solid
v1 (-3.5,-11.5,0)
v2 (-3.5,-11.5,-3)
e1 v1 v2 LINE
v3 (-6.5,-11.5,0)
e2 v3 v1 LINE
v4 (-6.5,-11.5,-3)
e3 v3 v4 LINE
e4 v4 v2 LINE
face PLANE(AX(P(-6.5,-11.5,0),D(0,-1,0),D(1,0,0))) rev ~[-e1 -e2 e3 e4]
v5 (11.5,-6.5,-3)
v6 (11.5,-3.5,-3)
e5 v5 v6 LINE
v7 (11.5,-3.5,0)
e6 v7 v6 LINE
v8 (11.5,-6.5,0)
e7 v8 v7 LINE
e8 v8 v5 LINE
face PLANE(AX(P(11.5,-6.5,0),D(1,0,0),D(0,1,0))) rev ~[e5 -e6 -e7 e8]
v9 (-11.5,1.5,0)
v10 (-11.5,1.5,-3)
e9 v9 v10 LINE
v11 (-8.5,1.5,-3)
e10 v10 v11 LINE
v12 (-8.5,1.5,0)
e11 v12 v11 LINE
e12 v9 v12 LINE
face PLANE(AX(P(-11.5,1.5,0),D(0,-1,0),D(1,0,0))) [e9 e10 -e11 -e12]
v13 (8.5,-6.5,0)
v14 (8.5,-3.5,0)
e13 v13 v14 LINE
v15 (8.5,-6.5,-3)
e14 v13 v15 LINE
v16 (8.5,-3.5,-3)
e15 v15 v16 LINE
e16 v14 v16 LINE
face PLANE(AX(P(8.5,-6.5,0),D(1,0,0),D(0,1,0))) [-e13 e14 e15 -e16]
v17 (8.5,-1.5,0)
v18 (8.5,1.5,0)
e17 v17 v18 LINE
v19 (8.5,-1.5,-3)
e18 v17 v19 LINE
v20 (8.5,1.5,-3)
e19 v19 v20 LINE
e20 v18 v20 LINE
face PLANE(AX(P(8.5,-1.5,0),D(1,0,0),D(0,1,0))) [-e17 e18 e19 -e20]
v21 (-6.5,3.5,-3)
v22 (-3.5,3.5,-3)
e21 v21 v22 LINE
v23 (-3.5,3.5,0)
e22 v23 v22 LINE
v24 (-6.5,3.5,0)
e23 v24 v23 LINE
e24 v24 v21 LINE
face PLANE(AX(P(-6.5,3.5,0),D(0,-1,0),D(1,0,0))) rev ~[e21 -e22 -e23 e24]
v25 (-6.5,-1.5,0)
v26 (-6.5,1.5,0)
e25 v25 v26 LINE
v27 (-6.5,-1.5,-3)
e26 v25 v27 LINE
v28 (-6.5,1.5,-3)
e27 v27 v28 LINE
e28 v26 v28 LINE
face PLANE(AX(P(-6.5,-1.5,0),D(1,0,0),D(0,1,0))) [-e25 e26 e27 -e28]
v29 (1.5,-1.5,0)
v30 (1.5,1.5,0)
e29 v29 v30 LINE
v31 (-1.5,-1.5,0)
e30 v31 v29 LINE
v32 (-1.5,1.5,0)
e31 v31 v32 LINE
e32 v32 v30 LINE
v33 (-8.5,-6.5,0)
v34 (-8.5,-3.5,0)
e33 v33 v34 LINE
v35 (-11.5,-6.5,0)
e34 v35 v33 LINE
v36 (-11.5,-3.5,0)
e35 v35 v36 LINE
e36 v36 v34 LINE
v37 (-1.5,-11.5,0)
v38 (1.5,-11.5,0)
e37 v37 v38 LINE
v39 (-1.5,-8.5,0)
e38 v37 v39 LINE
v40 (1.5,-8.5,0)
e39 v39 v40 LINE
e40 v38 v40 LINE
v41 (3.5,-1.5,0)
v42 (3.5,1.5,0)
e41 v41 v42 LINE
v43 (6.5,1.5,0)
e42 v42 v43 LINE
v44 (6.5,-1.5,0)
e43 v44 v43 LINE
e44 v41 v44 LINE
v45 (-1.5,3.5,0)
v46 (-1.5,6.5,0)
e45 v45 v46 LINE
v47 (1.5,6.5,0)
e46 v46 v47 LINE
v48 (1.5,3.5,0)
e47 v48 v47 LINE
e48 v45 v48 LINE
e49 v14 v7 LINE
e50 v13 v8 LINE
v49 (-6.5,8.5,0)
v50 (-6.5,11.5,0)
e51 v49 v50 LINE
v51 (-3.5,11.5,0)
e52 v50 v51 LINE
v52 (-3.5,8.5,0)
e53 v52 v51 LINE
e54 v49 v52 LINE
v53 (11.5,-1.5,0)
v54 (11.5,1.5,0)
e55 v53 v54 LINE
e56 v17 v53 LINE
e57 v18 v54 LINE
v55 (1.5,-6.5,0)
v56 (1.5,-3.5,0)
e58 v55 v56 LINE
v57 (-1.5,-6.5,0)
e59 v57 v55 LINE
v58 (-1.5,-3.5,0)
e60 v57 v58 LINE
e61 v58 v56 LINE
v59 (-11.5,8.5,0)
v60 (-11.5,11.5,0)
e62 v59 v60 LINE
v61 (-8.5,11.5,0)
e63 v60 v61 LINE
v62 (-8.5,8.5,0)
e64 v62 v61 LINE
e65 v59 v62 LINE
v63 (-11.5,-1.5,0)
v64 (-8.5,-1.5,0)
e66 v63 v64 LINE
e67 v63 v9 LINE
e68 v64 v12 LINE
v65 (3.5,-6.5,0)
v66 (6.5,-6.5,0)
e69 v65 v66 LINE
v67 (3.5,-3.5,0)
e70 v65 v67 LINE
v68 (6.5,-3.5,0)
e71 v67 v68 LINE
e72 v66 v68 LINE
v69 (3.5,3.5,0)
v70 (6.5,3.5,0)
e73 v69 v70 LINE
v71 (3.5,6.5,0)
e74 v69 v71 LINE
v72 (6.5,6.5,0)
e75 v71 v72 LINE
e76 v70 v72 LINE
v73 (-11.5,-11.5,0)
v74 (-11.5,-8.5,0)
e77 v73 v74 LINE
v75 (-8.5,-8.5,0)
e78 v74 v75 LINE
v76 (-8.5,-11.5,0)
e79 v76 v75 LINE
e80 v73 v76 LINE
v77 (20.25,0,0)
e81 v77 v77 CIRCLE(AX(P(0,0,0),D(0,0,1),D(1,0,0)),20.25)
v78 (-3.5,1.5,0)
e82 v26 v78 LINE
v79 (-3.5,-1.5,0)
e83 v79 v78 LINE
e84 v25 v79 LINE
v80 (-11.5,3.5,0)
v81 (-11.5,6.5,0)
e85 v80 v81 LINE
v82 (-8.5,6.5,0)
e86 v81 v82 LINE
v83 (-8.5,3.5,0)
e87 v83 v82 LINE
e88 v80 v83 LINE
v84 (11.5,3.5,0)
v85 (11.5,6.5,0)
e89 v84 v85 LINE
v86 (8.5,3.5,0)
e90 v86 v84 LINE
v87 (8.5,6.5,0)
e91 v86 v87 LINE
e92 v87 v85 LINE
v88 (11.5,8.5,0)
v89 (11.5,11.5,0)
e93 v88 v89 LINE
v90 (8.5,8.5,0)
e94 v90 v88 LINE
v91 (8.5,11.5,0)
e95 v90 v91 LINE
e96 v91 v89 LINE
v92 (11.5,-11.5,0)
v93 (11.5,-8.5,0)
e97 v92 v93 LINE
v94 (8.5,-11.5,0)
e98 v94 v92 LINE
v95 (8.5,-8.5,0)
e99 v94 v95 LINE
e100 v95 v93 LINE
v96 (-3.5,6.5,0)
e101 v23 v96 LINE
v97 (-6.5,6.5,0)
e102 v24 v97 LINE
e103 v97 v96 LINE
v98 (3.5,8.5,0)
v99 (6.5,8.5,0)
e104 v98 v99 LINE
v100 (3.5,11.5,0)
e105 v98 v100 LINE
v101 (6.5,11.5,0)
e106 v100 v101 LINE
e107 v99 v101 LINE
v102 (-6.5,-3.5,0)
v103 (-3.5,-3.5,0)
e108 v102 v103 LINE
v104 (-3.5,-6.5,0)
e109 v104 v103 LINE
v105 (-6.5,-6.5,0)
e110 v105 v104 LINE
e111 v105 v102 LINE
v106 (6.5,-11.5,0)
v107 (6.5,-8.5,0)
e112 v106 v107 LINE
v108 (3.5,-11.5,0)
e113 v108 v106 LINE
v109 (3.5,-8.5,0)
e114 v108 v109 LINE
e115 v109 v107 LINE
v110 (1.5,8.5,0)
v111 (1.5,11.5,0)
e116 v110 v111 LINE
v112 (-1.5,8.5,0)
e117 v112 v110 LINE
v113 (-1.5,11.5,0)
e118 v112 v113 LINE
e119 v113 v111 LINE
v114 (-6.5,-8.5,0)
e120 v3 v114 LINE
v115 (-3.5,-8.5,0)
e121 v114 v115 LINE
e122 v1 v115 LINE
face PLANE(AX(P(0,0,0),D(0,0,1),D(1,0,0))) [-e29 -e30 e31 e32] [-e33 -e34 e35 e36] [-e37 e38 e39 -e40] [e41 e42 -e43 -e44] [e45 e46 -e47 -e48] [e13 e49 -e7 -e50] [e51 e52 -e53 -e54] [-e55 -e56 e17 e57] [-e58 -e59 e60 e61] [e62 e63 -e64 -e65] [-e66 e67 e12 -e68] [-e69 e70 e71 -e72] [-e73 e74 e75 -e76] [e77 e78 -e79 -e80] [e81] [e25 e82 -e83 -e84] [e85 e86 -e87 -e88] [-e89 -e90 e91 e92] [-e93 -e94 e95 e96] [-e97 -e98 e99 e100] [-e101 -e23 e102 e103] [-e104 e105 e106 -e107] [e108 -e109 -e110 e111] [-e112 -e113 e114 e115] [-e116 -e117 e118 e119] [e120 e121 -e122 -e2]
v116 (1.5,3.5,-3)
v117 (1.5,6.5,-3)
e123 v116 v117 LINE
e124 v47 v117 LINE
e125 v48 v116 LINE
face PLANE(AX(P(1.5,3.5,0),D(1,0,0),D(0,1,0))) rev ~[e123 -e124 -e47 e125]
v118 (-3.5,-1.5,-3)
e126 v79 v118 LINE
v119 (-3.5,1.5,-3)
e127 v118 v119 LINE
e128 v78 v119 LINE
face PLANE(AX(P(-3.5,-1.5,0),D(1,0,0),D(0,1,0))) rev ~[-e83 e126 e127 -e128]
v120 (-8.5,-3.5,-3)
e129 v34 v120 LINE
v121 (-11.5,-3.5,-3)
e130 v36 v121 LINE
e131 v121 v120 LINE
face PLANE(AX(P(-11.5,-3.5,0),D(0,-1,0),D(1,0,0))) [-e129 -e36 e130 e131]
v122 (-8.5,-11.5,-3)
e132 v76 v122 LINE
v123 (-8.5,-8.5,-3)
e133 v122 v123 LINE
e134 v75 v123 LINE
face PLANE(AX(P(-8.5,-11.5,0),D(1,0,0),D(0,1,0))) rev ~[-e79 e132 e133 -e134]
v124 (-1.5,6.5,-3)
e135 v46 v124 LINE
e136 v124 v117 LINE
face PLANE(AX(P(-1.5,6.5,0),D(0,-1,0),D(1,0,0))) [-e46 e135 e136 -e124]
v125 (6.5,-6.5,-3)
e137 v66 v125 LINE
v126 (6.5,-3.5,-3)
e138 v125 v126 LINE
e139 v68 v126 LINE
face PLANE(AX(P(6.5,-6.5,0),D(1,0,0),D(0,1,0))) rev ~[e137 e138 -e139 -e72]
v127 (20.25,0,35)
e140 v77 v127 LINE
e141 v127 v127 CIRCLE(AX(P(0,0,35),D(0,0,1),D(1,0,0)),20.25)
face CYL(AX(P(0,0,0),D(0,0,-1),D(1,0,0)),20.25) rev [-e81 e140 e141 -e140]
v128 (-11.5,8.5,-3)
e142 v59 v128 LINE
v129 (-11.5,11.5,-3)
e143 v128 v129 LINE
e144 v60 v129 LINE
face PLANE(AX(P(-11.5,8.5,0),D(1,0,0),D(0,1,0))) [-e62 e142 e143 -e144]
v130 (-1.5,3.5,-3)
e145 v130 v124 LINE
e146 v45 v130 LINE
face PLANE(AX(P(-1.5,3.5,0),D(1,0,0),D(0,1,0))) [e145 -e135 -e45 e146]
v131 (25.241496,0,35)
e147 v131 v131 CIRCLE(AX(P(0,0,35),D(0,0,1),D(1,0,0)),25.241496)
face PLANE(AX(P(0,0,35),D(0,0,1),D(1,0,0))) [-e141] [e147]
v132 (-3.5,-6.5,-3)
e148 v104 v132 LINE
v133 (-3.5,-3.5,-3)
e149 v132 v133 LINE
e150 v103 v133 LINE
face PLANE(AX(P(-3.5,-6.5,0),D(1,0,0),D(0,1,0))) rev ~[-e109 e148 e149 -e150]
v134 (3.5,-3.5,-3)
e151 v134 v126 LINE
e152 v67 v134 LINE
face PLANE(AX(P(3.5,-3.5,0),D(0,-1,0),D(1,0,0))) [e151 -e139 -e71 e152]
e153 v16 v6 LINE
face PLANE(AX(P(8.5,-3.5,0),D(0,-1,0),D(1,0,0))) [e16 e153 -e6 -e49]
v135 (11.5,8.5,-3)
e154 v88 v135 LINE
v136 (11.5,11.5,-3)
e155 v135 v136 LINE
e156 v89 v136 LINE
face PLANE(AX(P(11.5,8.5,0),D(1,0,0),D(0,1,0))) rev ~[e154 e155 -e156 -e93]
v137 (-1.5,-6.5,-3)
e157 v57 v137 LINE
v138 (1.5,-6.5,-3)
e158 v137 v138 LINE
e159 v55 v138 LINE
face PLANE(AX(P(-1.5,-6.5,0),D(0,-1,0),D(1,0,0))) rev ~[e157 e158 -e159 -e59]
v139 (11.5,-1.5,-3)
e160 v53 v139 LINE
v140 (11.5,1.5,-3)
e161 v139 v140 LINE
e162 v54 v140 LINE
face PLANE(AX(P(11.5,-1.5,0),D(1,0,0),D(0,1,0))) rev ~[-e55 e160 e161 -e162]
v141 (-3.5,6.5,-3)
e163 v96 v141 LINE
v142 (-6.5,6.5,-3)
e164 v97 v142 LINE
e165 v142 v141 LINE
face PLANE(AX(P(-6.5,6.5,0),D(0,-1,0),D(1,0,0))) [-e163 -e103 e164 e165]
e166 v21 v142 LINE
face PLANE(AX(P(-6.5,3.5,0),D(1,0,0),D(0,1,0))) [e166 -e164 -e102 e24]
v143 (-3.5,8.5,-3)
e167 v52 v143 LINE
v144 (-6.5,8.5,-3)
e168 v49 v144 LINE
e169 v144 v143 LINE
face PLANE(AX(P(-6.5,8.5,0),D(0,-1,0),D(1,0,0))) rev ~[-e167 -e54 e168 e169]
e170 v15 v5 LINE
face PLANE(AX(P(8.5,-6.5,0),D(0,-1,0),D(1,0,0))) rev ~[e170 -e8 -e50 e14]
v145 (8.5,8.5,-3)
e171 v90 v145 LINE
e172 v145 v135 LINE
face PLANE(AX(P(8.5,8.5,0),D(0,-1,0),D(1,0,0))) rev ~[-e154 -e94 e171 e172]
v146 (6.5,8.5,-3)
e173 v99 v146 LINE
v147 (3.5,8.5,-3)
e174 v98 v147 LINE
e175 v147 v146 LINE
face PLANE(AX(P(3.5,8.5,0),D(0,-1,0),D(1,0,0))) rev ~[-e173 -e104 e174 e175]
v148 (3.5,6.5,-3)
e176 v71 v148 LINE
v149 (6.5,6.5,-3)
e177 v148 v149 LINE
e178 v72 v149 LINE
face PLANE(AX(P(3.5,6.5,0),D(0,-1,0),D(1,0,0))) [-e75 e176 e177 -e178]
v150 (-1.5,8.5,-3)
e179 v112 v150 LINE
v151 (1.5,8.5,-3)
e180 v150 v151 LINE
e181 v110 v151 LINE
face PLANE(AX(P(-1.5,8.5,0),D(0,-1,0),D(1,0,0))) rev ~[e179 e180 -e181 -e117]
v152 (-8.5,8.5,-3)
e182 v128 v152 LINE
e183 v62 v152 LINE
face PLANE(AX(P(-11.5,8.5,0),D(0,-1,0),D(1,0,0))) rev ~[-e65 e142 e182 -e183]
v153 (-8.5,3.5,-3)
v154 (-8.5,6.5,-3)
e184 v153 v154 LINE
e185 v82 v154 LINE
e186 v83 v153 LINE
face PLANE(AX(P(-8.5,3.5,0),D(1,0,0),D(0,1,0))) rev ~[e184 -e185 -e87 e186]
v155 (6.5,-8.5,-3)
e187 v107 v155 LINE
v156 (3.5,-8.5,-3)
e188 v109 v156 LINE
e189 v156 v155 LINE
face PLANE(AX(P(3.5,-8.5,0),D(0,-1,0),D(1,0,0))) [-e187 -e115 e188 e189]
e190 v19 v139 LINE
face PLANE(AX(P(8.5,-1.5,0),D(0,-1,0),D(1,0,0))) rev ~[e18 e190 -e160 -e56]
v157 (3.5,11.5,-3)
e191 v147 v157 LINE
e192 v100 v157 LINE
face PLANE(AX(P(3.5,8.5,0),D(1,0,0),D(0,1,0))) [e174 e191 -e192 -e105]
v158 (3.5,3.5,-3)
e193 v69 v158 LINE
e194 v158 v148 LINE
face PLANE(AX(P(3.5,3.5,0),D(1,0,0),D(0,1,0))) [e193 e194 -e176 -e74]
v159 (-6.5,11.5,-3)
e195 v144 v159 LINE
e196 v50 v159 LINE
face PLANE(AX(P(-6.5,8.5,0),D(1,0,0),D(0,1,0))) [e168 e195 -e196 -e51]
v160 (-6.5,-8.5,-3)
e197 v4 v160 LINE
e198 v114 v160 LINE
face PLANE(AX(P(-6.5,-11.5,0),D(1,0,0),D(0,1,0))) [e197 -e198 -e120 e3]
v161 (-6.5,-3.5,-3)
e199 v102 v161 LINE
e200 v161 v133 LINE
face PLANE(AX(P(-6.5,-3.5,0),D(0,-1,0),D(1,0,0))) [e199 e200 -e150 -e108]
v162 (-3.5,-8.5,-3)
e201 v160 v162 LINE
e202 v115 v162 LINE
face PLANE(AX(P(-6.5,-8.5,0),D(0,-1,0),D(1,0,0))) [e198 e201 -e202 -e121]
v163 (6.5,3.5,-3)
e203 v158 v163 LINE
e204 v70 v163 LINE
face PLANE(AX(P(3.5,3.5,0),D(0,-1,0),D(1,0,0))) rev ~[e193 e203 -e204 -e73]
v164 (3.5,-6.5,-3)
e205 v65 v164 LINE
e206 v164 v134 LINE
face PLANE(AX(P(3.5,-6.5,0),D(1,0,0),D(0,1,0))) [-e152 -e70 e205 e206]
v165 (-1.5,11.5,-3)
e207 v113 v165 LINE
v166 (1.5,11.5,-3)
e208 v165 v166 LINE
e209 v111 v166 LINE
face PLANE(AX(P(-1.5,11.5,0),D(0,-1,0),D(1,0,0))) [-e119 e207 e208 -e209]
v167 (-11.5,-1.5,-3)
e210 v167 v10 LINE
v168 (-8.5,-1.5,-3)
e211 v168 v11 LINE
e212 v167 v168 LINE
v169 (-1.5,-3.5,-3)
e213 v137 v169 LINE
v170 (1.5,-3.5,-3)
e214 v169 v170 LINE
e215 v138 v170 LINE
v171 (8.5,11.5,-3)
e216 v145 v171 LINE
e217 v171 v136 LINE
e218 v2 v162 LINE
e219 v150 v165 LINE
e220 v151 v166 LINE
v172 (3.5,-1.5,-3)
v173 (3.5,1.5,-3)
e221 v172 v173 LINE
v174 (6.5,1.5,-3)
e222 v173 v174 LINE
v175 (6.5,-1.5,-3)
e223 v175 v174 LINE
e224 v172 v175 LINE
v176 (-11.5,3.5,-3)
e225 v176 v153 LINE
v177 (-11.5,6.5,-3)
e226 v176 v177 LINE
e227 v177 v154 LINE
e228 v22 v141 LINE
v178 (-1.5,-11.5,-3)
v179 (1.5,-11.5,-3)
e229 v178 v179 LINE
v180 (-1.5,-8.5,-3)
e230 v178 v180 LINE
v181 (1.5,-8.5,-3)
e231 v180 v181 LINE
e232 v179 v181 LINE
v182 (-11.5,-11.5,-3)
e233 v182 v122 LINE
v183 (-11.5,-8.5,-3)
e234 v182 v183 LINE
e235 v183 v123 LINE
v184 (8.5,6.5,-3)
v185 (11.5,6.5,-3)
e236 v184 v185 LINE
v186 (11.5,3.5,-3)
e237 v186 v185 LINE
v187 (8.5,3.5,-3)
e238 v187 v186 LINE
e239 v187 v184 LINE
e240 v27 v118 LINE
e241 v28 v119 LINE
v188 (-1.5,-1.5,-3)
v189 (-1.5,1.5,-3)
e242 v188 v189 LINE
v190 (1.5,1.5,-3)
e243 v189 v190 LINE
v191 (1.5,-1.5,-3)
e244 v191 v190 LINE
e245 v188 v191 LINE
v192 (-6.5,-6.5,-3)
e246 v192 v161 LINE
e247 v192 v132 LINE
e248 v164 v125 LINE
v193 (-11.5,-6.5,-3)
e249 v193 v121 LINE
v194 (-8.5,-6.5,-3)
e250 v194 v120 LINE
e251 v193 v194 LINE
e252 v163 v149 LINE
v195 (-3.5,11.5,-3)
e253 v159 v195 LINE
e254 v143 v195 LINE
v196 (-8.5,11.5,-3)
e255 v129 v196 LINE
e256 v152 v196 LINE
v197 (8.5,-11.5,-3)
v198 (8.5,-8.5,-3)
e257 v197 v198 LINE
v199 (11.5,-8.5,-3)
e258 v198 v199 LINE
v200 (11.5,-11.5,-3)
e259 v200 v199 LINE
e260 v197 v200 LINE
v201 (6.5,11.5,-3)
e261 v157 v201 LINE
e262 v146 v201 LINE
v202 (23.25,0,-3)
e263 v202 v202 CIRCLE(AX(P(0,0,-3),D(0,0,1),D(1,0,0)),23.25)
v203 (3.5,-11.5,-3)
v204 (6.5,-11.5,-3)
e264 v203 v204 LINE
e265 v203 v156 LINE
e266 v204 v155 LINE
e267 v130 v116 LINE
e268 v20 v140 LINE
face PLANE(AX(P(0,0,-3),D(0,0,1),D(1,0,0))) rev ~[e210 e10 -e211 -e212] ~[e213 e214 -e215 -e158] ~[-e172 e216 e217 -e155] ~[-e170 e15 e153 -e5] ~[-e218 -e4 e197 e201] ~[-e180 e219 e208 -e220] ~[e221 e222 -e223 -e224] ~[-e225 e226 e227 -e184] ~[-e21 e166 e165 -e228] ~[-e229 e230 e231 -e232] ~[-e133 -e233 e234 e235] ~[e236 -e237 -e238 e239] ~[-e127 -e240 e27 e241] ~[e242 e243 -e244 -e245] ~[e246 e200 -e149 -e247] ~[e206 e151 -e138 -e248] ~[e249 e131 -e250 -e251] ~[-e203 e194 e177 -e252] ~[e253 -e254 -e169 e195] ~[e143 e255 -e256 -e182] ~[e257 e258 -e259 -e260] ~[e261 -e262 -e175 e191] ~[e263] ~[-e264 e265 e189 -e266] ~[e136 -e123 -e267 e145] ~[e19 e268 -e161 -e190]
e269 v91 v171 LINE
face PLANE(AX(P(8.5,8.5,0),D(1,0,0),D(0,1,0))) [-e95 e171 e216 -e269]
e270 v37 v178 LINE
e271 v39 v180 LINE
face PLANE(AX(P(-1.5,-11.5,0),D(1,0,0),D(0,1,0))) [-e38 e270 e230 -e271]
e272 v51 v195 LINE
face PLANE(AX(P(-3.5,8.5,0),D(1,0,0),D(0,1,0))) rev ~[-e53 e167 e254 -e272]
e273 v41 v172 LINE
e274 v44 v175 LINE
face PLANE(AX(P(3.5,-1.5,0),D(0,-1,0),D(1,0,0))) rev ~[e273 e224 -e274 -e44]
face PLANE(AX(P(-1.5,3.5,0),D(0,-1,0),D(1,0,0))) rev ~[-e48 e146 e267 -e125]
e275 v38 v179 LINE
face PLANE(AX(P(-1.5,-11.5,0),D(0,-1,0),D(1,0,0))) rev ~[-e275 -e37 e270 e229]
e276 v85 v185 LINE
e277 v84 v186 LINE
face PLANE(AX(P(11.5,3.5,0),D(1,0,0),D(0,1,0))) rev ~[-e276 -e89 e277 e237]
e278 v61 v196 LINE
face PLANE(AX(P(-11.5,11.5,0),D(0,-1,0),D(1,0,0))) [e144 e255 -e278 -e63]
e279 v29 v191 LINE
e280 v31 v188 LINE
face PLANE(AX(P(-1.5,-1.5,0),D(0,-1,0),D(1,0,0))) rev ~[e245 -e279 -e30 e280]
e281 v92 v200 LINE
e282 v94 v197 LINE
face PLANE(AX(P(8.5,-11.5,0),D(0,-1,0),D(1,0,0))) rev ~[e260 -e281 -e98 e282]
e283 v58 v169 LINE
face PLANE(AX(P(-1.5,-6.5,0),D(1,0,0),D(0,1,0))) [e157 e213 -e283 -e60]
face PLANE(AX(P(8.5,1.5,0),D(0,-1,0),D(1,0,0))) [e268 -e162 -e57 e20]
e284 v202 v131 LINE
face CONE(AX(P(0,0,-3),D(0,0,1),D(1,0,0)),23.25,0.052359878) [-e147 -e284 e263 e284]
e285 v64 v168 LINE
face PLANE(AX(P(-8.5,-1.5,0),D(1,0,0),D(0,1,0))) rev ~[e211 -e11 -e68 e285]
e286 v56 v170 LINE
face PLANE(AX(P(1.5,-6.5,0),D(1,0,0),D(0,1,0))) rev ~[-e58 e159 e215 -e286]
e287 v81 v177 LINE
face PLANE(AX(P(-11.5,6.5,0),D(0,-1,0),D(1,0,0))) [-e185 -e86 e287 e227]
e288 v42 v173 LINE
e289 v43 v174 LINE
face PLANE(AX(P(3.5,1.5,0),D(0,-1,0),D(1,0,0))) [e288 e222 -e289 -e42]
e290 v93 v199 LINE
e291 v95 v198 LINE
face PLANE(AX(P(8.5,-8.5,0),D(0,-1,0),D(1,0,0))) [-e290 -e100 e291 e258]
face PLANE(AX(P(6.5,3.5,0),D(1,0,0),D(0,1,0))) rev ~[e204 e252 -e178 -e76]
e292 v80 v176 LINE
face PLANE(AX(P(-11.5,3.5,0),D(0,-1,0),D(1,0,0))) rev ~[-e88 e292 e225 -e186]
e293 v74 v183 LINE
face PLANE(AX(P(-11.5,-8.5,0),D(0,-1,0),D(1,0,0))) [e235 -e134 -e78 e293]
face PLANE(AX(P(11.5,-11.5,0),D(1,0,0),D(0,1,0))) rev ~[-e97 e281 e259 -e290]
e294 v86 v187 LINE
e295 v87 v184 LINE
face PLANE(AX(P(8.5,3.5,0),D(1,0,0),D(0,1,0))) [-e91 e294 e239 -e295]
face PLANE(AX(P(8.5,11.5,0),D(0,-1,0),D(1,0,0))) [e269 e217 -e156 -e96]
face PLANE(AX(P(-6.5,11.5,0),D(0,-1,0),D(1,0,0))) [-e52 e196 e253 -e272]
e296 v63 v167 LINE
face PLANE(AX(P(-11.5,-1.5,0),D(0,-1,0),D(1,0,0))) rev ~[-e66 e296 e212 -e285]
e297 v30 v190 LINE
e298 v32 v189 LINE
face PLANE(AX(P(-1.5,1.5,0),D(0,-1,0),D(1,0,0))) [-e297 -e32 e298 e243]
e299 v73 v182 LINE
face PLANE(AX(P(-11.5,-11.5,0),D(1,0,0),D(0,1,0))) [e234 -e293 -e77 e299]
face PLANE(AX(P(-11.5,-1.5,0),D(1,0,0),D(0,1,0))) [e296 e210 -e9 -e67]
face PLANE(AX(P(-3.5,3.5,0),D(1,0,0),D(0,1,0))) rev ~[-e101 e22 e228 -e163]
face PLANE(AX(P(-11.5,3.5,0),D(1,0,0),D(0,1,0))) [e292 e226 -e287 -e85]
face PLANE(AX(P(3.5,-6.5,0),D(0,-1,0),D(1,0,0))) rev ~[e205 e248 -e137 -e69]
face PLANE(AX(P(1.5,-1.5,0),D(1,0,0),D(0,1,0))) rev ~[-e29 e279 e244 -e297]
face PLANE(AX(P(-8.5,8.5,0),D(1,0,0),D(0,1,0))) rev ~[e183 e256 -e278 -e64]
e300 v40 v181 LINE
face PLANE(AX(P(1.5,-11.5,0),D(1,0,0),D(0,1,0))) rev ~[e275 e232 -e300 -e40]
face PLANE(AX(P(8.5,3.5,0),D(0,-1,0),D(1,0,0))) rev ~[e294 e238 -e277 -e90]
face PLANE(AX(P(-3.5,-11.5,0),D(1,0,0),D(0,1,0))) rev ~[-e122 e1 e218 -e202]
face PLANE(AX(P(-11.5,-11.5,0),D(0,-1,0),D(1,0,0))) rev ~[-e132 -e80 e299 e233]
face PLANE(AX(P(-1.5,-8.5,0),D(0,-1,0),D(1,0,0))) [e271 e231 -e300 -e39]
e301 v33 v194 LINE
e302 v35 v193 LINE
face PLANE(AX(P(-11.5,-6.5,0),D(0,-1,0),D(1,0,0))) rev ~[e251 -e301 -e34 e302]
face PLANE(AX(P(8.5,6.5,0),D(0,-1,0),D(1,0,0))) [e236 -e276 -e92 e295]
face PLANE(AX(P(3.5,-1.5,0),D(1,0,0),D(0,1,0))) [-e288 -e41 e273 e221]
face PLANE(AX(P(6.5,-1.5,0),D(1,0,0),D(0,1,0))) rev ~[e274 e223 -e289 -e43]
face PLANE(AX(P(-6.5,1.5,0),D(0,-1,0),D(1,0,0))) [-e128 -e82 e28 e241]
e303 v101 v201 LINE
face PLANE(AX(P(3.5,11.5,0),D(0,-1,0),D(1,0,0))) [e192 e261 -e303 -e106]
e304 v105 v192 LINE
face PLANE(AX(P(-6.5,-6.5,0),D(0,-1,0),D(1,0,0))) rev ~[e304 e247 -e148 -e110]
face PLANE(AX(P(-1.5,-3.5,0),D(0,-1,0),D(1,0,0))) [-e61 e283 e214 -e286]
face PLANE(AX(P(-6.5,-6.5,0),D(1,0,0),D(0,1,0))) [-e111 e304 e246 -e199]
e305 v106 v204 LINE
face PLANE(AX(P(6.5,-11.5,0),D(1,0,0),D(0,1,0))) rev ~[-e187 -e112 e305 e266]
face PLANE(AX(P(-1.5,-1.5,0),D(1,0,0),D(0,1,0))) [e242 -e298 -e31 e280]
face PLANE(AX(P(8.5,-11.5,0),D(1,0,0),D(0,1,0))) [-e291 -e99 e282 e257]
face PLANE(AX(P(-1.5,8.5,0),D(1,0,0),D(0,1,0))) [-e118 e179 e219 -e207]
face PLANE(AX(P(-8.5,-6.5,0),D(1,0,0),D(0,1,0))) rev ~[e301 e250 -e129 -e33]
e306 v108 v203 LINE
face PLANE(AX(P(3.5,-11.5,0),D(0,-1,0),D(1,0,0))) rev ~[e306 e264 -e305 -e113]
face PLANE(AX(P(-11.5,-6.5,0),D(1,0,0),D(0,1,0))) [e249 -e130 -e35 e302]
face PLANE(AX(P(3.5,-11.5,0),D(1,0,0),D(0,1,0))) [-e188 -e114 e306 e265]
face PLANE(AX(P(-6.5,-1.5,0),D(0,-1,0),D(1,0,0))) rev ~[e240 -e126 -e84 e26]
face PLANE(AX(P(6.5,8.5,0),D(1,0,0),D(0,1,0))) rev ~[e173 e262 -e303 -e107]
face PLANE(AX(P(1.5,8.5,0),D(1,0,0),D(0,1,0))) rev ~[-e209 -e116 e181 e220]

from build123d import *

# Parameters (mm, degrees)
SKETCH1_R           = 23.25
BOSS_EXTRUDE1_DEPTH = 3
BOSS_EXTRUDE2_START = 35
SKETCH1_3_R         = 23.25
SKETCH1_3_R_2       = 20.25
BOSS_EXTRUDE2_DEPTH = 35
SKETCH6_W           = 3
SKETCH6_H           = 3
CUT_EXTRUDE1_DEPTH  = 50.992661477


with BuildPart() as part:
    # Sketch1 → Boss-Extrude1 (new body)
    with BuildSketch(Plane.XY):
        Circle(SKETCH1_R)
    extrude(amount=-BOSS_EXTRUDE1_DEPTH)

    # Sketch1<3> → Boss-Extrude2 (add)
    with BuildSketch(Plane.XY.offset(BOSS_EXTRUDE2_START)):
        Circle(SKETCH1_3_R)
        Circle(SKETCH1_3_R_2, mode=Mode.SUBTRACT)
    extrude(amount=-BOSS_EXTRUDE2_DEPTH)

    # Sketch4 → Revolve2 (revolve)
    with BuildSketch(Plane(origin=(0, 0, 0), x_dir=(1, 0, 0), z_dir=(0, 1, 0))):
        Polygon((23.25, -35), (23.25, 3), (25.241495613, -35), align=None)
    revolve(axis=Axis((0, 0, 0), (0, 0, 1)))

    # Sketch6 → Cut-Extrude1 (cut, through all)
    with BuildSketch(Plane.XY):
        with Locations((5, 0)):
            Rectangle(SKETCH6_W, SKETCH6_H)
        Rectangle(SKETCH6_W, SKETCH6_H)
        with Locations((10, 0)):
            Rectangle(SKETCH6_W, SKETCH6_H)
        with Locations((5, 5)):
            Rectangle(SKETCH6_W, SKETCH6_H)
        with Locations((10, 5)):
            Rectangle(SKETCH6_W, SKETCH6_H)
        with Locations((5, 10)):
            Rectangle(SKETCH6_W, SKETCH6_H)
        with Locations((10, 10)):
            Rectangle(SKETCH6_W, SKETCH6_H)
        with Locations((0, 5)):
            Rectangle(SKETCH6_W, SKETCH6_H)
        with Locations((0, 10)):
            Rectangle(SKETCH6_W, SKETCH6_H)
        with Locations((0, -10)):
            Rectangle(SKETCH6_W, SKETCH6_H)
        with Locations((5, -10)):
            Rectangle(SKETCH6_W, SKETCH6_H)
        with Locations((10, -10)):
            Rectangle(SKETCH6_W, SKETCH6_H)
        with Locations((10, -5)):
            Rectangle(SKETCH6_W, SKETCH6_H)
        with Locations((5, -5)):
            Rectangle(SKETCH6_W, SKETCH6_H)
        with Locations((0, -5)):
            Rectangle(SKETCH6_W, SKETCH6_H)
        with Locations((-10, -10)):
            Rectangle(SKETCH6_W, SKETCH6_H)
        with Locations((-5, -10)):
            Rectangle(SKETCH6_W, SKETCH6_H)
        with Locations((-5, -5)):
            Rectangle(SKETCH6_W, SKETCH6_H)
        with Locations((-10, -5)):
            Rectangle(SKETCH6_W, SKETCH6_H)
        with Locations((-10, 0)):
            Rectangle(SKETCH6_W, SKETCH6_H)
        with Locations((-5, 0)):
            Rectangle(SKETCH6_W, SKETCH6_H)
        with Locations((-5, 5)):
            Rectangle(SKETCH6_W, SKETCH6_H)
        with Locations((-10, 5)):
            Rectangle(SKETCH6_W, SKETCH6_H)
        with Locations((-10, 10)):
            Rectangle(SKETCH6_W, SKETCH6_H)
        with Locations((-5, 10)):
            Rectangle(SKETCH6_W, SKETCH6_H)
    extrude(amount=-CUT_EXTRUDE1_DEPTH, mode=Mode.SUBTRACT)


solid = part.part
